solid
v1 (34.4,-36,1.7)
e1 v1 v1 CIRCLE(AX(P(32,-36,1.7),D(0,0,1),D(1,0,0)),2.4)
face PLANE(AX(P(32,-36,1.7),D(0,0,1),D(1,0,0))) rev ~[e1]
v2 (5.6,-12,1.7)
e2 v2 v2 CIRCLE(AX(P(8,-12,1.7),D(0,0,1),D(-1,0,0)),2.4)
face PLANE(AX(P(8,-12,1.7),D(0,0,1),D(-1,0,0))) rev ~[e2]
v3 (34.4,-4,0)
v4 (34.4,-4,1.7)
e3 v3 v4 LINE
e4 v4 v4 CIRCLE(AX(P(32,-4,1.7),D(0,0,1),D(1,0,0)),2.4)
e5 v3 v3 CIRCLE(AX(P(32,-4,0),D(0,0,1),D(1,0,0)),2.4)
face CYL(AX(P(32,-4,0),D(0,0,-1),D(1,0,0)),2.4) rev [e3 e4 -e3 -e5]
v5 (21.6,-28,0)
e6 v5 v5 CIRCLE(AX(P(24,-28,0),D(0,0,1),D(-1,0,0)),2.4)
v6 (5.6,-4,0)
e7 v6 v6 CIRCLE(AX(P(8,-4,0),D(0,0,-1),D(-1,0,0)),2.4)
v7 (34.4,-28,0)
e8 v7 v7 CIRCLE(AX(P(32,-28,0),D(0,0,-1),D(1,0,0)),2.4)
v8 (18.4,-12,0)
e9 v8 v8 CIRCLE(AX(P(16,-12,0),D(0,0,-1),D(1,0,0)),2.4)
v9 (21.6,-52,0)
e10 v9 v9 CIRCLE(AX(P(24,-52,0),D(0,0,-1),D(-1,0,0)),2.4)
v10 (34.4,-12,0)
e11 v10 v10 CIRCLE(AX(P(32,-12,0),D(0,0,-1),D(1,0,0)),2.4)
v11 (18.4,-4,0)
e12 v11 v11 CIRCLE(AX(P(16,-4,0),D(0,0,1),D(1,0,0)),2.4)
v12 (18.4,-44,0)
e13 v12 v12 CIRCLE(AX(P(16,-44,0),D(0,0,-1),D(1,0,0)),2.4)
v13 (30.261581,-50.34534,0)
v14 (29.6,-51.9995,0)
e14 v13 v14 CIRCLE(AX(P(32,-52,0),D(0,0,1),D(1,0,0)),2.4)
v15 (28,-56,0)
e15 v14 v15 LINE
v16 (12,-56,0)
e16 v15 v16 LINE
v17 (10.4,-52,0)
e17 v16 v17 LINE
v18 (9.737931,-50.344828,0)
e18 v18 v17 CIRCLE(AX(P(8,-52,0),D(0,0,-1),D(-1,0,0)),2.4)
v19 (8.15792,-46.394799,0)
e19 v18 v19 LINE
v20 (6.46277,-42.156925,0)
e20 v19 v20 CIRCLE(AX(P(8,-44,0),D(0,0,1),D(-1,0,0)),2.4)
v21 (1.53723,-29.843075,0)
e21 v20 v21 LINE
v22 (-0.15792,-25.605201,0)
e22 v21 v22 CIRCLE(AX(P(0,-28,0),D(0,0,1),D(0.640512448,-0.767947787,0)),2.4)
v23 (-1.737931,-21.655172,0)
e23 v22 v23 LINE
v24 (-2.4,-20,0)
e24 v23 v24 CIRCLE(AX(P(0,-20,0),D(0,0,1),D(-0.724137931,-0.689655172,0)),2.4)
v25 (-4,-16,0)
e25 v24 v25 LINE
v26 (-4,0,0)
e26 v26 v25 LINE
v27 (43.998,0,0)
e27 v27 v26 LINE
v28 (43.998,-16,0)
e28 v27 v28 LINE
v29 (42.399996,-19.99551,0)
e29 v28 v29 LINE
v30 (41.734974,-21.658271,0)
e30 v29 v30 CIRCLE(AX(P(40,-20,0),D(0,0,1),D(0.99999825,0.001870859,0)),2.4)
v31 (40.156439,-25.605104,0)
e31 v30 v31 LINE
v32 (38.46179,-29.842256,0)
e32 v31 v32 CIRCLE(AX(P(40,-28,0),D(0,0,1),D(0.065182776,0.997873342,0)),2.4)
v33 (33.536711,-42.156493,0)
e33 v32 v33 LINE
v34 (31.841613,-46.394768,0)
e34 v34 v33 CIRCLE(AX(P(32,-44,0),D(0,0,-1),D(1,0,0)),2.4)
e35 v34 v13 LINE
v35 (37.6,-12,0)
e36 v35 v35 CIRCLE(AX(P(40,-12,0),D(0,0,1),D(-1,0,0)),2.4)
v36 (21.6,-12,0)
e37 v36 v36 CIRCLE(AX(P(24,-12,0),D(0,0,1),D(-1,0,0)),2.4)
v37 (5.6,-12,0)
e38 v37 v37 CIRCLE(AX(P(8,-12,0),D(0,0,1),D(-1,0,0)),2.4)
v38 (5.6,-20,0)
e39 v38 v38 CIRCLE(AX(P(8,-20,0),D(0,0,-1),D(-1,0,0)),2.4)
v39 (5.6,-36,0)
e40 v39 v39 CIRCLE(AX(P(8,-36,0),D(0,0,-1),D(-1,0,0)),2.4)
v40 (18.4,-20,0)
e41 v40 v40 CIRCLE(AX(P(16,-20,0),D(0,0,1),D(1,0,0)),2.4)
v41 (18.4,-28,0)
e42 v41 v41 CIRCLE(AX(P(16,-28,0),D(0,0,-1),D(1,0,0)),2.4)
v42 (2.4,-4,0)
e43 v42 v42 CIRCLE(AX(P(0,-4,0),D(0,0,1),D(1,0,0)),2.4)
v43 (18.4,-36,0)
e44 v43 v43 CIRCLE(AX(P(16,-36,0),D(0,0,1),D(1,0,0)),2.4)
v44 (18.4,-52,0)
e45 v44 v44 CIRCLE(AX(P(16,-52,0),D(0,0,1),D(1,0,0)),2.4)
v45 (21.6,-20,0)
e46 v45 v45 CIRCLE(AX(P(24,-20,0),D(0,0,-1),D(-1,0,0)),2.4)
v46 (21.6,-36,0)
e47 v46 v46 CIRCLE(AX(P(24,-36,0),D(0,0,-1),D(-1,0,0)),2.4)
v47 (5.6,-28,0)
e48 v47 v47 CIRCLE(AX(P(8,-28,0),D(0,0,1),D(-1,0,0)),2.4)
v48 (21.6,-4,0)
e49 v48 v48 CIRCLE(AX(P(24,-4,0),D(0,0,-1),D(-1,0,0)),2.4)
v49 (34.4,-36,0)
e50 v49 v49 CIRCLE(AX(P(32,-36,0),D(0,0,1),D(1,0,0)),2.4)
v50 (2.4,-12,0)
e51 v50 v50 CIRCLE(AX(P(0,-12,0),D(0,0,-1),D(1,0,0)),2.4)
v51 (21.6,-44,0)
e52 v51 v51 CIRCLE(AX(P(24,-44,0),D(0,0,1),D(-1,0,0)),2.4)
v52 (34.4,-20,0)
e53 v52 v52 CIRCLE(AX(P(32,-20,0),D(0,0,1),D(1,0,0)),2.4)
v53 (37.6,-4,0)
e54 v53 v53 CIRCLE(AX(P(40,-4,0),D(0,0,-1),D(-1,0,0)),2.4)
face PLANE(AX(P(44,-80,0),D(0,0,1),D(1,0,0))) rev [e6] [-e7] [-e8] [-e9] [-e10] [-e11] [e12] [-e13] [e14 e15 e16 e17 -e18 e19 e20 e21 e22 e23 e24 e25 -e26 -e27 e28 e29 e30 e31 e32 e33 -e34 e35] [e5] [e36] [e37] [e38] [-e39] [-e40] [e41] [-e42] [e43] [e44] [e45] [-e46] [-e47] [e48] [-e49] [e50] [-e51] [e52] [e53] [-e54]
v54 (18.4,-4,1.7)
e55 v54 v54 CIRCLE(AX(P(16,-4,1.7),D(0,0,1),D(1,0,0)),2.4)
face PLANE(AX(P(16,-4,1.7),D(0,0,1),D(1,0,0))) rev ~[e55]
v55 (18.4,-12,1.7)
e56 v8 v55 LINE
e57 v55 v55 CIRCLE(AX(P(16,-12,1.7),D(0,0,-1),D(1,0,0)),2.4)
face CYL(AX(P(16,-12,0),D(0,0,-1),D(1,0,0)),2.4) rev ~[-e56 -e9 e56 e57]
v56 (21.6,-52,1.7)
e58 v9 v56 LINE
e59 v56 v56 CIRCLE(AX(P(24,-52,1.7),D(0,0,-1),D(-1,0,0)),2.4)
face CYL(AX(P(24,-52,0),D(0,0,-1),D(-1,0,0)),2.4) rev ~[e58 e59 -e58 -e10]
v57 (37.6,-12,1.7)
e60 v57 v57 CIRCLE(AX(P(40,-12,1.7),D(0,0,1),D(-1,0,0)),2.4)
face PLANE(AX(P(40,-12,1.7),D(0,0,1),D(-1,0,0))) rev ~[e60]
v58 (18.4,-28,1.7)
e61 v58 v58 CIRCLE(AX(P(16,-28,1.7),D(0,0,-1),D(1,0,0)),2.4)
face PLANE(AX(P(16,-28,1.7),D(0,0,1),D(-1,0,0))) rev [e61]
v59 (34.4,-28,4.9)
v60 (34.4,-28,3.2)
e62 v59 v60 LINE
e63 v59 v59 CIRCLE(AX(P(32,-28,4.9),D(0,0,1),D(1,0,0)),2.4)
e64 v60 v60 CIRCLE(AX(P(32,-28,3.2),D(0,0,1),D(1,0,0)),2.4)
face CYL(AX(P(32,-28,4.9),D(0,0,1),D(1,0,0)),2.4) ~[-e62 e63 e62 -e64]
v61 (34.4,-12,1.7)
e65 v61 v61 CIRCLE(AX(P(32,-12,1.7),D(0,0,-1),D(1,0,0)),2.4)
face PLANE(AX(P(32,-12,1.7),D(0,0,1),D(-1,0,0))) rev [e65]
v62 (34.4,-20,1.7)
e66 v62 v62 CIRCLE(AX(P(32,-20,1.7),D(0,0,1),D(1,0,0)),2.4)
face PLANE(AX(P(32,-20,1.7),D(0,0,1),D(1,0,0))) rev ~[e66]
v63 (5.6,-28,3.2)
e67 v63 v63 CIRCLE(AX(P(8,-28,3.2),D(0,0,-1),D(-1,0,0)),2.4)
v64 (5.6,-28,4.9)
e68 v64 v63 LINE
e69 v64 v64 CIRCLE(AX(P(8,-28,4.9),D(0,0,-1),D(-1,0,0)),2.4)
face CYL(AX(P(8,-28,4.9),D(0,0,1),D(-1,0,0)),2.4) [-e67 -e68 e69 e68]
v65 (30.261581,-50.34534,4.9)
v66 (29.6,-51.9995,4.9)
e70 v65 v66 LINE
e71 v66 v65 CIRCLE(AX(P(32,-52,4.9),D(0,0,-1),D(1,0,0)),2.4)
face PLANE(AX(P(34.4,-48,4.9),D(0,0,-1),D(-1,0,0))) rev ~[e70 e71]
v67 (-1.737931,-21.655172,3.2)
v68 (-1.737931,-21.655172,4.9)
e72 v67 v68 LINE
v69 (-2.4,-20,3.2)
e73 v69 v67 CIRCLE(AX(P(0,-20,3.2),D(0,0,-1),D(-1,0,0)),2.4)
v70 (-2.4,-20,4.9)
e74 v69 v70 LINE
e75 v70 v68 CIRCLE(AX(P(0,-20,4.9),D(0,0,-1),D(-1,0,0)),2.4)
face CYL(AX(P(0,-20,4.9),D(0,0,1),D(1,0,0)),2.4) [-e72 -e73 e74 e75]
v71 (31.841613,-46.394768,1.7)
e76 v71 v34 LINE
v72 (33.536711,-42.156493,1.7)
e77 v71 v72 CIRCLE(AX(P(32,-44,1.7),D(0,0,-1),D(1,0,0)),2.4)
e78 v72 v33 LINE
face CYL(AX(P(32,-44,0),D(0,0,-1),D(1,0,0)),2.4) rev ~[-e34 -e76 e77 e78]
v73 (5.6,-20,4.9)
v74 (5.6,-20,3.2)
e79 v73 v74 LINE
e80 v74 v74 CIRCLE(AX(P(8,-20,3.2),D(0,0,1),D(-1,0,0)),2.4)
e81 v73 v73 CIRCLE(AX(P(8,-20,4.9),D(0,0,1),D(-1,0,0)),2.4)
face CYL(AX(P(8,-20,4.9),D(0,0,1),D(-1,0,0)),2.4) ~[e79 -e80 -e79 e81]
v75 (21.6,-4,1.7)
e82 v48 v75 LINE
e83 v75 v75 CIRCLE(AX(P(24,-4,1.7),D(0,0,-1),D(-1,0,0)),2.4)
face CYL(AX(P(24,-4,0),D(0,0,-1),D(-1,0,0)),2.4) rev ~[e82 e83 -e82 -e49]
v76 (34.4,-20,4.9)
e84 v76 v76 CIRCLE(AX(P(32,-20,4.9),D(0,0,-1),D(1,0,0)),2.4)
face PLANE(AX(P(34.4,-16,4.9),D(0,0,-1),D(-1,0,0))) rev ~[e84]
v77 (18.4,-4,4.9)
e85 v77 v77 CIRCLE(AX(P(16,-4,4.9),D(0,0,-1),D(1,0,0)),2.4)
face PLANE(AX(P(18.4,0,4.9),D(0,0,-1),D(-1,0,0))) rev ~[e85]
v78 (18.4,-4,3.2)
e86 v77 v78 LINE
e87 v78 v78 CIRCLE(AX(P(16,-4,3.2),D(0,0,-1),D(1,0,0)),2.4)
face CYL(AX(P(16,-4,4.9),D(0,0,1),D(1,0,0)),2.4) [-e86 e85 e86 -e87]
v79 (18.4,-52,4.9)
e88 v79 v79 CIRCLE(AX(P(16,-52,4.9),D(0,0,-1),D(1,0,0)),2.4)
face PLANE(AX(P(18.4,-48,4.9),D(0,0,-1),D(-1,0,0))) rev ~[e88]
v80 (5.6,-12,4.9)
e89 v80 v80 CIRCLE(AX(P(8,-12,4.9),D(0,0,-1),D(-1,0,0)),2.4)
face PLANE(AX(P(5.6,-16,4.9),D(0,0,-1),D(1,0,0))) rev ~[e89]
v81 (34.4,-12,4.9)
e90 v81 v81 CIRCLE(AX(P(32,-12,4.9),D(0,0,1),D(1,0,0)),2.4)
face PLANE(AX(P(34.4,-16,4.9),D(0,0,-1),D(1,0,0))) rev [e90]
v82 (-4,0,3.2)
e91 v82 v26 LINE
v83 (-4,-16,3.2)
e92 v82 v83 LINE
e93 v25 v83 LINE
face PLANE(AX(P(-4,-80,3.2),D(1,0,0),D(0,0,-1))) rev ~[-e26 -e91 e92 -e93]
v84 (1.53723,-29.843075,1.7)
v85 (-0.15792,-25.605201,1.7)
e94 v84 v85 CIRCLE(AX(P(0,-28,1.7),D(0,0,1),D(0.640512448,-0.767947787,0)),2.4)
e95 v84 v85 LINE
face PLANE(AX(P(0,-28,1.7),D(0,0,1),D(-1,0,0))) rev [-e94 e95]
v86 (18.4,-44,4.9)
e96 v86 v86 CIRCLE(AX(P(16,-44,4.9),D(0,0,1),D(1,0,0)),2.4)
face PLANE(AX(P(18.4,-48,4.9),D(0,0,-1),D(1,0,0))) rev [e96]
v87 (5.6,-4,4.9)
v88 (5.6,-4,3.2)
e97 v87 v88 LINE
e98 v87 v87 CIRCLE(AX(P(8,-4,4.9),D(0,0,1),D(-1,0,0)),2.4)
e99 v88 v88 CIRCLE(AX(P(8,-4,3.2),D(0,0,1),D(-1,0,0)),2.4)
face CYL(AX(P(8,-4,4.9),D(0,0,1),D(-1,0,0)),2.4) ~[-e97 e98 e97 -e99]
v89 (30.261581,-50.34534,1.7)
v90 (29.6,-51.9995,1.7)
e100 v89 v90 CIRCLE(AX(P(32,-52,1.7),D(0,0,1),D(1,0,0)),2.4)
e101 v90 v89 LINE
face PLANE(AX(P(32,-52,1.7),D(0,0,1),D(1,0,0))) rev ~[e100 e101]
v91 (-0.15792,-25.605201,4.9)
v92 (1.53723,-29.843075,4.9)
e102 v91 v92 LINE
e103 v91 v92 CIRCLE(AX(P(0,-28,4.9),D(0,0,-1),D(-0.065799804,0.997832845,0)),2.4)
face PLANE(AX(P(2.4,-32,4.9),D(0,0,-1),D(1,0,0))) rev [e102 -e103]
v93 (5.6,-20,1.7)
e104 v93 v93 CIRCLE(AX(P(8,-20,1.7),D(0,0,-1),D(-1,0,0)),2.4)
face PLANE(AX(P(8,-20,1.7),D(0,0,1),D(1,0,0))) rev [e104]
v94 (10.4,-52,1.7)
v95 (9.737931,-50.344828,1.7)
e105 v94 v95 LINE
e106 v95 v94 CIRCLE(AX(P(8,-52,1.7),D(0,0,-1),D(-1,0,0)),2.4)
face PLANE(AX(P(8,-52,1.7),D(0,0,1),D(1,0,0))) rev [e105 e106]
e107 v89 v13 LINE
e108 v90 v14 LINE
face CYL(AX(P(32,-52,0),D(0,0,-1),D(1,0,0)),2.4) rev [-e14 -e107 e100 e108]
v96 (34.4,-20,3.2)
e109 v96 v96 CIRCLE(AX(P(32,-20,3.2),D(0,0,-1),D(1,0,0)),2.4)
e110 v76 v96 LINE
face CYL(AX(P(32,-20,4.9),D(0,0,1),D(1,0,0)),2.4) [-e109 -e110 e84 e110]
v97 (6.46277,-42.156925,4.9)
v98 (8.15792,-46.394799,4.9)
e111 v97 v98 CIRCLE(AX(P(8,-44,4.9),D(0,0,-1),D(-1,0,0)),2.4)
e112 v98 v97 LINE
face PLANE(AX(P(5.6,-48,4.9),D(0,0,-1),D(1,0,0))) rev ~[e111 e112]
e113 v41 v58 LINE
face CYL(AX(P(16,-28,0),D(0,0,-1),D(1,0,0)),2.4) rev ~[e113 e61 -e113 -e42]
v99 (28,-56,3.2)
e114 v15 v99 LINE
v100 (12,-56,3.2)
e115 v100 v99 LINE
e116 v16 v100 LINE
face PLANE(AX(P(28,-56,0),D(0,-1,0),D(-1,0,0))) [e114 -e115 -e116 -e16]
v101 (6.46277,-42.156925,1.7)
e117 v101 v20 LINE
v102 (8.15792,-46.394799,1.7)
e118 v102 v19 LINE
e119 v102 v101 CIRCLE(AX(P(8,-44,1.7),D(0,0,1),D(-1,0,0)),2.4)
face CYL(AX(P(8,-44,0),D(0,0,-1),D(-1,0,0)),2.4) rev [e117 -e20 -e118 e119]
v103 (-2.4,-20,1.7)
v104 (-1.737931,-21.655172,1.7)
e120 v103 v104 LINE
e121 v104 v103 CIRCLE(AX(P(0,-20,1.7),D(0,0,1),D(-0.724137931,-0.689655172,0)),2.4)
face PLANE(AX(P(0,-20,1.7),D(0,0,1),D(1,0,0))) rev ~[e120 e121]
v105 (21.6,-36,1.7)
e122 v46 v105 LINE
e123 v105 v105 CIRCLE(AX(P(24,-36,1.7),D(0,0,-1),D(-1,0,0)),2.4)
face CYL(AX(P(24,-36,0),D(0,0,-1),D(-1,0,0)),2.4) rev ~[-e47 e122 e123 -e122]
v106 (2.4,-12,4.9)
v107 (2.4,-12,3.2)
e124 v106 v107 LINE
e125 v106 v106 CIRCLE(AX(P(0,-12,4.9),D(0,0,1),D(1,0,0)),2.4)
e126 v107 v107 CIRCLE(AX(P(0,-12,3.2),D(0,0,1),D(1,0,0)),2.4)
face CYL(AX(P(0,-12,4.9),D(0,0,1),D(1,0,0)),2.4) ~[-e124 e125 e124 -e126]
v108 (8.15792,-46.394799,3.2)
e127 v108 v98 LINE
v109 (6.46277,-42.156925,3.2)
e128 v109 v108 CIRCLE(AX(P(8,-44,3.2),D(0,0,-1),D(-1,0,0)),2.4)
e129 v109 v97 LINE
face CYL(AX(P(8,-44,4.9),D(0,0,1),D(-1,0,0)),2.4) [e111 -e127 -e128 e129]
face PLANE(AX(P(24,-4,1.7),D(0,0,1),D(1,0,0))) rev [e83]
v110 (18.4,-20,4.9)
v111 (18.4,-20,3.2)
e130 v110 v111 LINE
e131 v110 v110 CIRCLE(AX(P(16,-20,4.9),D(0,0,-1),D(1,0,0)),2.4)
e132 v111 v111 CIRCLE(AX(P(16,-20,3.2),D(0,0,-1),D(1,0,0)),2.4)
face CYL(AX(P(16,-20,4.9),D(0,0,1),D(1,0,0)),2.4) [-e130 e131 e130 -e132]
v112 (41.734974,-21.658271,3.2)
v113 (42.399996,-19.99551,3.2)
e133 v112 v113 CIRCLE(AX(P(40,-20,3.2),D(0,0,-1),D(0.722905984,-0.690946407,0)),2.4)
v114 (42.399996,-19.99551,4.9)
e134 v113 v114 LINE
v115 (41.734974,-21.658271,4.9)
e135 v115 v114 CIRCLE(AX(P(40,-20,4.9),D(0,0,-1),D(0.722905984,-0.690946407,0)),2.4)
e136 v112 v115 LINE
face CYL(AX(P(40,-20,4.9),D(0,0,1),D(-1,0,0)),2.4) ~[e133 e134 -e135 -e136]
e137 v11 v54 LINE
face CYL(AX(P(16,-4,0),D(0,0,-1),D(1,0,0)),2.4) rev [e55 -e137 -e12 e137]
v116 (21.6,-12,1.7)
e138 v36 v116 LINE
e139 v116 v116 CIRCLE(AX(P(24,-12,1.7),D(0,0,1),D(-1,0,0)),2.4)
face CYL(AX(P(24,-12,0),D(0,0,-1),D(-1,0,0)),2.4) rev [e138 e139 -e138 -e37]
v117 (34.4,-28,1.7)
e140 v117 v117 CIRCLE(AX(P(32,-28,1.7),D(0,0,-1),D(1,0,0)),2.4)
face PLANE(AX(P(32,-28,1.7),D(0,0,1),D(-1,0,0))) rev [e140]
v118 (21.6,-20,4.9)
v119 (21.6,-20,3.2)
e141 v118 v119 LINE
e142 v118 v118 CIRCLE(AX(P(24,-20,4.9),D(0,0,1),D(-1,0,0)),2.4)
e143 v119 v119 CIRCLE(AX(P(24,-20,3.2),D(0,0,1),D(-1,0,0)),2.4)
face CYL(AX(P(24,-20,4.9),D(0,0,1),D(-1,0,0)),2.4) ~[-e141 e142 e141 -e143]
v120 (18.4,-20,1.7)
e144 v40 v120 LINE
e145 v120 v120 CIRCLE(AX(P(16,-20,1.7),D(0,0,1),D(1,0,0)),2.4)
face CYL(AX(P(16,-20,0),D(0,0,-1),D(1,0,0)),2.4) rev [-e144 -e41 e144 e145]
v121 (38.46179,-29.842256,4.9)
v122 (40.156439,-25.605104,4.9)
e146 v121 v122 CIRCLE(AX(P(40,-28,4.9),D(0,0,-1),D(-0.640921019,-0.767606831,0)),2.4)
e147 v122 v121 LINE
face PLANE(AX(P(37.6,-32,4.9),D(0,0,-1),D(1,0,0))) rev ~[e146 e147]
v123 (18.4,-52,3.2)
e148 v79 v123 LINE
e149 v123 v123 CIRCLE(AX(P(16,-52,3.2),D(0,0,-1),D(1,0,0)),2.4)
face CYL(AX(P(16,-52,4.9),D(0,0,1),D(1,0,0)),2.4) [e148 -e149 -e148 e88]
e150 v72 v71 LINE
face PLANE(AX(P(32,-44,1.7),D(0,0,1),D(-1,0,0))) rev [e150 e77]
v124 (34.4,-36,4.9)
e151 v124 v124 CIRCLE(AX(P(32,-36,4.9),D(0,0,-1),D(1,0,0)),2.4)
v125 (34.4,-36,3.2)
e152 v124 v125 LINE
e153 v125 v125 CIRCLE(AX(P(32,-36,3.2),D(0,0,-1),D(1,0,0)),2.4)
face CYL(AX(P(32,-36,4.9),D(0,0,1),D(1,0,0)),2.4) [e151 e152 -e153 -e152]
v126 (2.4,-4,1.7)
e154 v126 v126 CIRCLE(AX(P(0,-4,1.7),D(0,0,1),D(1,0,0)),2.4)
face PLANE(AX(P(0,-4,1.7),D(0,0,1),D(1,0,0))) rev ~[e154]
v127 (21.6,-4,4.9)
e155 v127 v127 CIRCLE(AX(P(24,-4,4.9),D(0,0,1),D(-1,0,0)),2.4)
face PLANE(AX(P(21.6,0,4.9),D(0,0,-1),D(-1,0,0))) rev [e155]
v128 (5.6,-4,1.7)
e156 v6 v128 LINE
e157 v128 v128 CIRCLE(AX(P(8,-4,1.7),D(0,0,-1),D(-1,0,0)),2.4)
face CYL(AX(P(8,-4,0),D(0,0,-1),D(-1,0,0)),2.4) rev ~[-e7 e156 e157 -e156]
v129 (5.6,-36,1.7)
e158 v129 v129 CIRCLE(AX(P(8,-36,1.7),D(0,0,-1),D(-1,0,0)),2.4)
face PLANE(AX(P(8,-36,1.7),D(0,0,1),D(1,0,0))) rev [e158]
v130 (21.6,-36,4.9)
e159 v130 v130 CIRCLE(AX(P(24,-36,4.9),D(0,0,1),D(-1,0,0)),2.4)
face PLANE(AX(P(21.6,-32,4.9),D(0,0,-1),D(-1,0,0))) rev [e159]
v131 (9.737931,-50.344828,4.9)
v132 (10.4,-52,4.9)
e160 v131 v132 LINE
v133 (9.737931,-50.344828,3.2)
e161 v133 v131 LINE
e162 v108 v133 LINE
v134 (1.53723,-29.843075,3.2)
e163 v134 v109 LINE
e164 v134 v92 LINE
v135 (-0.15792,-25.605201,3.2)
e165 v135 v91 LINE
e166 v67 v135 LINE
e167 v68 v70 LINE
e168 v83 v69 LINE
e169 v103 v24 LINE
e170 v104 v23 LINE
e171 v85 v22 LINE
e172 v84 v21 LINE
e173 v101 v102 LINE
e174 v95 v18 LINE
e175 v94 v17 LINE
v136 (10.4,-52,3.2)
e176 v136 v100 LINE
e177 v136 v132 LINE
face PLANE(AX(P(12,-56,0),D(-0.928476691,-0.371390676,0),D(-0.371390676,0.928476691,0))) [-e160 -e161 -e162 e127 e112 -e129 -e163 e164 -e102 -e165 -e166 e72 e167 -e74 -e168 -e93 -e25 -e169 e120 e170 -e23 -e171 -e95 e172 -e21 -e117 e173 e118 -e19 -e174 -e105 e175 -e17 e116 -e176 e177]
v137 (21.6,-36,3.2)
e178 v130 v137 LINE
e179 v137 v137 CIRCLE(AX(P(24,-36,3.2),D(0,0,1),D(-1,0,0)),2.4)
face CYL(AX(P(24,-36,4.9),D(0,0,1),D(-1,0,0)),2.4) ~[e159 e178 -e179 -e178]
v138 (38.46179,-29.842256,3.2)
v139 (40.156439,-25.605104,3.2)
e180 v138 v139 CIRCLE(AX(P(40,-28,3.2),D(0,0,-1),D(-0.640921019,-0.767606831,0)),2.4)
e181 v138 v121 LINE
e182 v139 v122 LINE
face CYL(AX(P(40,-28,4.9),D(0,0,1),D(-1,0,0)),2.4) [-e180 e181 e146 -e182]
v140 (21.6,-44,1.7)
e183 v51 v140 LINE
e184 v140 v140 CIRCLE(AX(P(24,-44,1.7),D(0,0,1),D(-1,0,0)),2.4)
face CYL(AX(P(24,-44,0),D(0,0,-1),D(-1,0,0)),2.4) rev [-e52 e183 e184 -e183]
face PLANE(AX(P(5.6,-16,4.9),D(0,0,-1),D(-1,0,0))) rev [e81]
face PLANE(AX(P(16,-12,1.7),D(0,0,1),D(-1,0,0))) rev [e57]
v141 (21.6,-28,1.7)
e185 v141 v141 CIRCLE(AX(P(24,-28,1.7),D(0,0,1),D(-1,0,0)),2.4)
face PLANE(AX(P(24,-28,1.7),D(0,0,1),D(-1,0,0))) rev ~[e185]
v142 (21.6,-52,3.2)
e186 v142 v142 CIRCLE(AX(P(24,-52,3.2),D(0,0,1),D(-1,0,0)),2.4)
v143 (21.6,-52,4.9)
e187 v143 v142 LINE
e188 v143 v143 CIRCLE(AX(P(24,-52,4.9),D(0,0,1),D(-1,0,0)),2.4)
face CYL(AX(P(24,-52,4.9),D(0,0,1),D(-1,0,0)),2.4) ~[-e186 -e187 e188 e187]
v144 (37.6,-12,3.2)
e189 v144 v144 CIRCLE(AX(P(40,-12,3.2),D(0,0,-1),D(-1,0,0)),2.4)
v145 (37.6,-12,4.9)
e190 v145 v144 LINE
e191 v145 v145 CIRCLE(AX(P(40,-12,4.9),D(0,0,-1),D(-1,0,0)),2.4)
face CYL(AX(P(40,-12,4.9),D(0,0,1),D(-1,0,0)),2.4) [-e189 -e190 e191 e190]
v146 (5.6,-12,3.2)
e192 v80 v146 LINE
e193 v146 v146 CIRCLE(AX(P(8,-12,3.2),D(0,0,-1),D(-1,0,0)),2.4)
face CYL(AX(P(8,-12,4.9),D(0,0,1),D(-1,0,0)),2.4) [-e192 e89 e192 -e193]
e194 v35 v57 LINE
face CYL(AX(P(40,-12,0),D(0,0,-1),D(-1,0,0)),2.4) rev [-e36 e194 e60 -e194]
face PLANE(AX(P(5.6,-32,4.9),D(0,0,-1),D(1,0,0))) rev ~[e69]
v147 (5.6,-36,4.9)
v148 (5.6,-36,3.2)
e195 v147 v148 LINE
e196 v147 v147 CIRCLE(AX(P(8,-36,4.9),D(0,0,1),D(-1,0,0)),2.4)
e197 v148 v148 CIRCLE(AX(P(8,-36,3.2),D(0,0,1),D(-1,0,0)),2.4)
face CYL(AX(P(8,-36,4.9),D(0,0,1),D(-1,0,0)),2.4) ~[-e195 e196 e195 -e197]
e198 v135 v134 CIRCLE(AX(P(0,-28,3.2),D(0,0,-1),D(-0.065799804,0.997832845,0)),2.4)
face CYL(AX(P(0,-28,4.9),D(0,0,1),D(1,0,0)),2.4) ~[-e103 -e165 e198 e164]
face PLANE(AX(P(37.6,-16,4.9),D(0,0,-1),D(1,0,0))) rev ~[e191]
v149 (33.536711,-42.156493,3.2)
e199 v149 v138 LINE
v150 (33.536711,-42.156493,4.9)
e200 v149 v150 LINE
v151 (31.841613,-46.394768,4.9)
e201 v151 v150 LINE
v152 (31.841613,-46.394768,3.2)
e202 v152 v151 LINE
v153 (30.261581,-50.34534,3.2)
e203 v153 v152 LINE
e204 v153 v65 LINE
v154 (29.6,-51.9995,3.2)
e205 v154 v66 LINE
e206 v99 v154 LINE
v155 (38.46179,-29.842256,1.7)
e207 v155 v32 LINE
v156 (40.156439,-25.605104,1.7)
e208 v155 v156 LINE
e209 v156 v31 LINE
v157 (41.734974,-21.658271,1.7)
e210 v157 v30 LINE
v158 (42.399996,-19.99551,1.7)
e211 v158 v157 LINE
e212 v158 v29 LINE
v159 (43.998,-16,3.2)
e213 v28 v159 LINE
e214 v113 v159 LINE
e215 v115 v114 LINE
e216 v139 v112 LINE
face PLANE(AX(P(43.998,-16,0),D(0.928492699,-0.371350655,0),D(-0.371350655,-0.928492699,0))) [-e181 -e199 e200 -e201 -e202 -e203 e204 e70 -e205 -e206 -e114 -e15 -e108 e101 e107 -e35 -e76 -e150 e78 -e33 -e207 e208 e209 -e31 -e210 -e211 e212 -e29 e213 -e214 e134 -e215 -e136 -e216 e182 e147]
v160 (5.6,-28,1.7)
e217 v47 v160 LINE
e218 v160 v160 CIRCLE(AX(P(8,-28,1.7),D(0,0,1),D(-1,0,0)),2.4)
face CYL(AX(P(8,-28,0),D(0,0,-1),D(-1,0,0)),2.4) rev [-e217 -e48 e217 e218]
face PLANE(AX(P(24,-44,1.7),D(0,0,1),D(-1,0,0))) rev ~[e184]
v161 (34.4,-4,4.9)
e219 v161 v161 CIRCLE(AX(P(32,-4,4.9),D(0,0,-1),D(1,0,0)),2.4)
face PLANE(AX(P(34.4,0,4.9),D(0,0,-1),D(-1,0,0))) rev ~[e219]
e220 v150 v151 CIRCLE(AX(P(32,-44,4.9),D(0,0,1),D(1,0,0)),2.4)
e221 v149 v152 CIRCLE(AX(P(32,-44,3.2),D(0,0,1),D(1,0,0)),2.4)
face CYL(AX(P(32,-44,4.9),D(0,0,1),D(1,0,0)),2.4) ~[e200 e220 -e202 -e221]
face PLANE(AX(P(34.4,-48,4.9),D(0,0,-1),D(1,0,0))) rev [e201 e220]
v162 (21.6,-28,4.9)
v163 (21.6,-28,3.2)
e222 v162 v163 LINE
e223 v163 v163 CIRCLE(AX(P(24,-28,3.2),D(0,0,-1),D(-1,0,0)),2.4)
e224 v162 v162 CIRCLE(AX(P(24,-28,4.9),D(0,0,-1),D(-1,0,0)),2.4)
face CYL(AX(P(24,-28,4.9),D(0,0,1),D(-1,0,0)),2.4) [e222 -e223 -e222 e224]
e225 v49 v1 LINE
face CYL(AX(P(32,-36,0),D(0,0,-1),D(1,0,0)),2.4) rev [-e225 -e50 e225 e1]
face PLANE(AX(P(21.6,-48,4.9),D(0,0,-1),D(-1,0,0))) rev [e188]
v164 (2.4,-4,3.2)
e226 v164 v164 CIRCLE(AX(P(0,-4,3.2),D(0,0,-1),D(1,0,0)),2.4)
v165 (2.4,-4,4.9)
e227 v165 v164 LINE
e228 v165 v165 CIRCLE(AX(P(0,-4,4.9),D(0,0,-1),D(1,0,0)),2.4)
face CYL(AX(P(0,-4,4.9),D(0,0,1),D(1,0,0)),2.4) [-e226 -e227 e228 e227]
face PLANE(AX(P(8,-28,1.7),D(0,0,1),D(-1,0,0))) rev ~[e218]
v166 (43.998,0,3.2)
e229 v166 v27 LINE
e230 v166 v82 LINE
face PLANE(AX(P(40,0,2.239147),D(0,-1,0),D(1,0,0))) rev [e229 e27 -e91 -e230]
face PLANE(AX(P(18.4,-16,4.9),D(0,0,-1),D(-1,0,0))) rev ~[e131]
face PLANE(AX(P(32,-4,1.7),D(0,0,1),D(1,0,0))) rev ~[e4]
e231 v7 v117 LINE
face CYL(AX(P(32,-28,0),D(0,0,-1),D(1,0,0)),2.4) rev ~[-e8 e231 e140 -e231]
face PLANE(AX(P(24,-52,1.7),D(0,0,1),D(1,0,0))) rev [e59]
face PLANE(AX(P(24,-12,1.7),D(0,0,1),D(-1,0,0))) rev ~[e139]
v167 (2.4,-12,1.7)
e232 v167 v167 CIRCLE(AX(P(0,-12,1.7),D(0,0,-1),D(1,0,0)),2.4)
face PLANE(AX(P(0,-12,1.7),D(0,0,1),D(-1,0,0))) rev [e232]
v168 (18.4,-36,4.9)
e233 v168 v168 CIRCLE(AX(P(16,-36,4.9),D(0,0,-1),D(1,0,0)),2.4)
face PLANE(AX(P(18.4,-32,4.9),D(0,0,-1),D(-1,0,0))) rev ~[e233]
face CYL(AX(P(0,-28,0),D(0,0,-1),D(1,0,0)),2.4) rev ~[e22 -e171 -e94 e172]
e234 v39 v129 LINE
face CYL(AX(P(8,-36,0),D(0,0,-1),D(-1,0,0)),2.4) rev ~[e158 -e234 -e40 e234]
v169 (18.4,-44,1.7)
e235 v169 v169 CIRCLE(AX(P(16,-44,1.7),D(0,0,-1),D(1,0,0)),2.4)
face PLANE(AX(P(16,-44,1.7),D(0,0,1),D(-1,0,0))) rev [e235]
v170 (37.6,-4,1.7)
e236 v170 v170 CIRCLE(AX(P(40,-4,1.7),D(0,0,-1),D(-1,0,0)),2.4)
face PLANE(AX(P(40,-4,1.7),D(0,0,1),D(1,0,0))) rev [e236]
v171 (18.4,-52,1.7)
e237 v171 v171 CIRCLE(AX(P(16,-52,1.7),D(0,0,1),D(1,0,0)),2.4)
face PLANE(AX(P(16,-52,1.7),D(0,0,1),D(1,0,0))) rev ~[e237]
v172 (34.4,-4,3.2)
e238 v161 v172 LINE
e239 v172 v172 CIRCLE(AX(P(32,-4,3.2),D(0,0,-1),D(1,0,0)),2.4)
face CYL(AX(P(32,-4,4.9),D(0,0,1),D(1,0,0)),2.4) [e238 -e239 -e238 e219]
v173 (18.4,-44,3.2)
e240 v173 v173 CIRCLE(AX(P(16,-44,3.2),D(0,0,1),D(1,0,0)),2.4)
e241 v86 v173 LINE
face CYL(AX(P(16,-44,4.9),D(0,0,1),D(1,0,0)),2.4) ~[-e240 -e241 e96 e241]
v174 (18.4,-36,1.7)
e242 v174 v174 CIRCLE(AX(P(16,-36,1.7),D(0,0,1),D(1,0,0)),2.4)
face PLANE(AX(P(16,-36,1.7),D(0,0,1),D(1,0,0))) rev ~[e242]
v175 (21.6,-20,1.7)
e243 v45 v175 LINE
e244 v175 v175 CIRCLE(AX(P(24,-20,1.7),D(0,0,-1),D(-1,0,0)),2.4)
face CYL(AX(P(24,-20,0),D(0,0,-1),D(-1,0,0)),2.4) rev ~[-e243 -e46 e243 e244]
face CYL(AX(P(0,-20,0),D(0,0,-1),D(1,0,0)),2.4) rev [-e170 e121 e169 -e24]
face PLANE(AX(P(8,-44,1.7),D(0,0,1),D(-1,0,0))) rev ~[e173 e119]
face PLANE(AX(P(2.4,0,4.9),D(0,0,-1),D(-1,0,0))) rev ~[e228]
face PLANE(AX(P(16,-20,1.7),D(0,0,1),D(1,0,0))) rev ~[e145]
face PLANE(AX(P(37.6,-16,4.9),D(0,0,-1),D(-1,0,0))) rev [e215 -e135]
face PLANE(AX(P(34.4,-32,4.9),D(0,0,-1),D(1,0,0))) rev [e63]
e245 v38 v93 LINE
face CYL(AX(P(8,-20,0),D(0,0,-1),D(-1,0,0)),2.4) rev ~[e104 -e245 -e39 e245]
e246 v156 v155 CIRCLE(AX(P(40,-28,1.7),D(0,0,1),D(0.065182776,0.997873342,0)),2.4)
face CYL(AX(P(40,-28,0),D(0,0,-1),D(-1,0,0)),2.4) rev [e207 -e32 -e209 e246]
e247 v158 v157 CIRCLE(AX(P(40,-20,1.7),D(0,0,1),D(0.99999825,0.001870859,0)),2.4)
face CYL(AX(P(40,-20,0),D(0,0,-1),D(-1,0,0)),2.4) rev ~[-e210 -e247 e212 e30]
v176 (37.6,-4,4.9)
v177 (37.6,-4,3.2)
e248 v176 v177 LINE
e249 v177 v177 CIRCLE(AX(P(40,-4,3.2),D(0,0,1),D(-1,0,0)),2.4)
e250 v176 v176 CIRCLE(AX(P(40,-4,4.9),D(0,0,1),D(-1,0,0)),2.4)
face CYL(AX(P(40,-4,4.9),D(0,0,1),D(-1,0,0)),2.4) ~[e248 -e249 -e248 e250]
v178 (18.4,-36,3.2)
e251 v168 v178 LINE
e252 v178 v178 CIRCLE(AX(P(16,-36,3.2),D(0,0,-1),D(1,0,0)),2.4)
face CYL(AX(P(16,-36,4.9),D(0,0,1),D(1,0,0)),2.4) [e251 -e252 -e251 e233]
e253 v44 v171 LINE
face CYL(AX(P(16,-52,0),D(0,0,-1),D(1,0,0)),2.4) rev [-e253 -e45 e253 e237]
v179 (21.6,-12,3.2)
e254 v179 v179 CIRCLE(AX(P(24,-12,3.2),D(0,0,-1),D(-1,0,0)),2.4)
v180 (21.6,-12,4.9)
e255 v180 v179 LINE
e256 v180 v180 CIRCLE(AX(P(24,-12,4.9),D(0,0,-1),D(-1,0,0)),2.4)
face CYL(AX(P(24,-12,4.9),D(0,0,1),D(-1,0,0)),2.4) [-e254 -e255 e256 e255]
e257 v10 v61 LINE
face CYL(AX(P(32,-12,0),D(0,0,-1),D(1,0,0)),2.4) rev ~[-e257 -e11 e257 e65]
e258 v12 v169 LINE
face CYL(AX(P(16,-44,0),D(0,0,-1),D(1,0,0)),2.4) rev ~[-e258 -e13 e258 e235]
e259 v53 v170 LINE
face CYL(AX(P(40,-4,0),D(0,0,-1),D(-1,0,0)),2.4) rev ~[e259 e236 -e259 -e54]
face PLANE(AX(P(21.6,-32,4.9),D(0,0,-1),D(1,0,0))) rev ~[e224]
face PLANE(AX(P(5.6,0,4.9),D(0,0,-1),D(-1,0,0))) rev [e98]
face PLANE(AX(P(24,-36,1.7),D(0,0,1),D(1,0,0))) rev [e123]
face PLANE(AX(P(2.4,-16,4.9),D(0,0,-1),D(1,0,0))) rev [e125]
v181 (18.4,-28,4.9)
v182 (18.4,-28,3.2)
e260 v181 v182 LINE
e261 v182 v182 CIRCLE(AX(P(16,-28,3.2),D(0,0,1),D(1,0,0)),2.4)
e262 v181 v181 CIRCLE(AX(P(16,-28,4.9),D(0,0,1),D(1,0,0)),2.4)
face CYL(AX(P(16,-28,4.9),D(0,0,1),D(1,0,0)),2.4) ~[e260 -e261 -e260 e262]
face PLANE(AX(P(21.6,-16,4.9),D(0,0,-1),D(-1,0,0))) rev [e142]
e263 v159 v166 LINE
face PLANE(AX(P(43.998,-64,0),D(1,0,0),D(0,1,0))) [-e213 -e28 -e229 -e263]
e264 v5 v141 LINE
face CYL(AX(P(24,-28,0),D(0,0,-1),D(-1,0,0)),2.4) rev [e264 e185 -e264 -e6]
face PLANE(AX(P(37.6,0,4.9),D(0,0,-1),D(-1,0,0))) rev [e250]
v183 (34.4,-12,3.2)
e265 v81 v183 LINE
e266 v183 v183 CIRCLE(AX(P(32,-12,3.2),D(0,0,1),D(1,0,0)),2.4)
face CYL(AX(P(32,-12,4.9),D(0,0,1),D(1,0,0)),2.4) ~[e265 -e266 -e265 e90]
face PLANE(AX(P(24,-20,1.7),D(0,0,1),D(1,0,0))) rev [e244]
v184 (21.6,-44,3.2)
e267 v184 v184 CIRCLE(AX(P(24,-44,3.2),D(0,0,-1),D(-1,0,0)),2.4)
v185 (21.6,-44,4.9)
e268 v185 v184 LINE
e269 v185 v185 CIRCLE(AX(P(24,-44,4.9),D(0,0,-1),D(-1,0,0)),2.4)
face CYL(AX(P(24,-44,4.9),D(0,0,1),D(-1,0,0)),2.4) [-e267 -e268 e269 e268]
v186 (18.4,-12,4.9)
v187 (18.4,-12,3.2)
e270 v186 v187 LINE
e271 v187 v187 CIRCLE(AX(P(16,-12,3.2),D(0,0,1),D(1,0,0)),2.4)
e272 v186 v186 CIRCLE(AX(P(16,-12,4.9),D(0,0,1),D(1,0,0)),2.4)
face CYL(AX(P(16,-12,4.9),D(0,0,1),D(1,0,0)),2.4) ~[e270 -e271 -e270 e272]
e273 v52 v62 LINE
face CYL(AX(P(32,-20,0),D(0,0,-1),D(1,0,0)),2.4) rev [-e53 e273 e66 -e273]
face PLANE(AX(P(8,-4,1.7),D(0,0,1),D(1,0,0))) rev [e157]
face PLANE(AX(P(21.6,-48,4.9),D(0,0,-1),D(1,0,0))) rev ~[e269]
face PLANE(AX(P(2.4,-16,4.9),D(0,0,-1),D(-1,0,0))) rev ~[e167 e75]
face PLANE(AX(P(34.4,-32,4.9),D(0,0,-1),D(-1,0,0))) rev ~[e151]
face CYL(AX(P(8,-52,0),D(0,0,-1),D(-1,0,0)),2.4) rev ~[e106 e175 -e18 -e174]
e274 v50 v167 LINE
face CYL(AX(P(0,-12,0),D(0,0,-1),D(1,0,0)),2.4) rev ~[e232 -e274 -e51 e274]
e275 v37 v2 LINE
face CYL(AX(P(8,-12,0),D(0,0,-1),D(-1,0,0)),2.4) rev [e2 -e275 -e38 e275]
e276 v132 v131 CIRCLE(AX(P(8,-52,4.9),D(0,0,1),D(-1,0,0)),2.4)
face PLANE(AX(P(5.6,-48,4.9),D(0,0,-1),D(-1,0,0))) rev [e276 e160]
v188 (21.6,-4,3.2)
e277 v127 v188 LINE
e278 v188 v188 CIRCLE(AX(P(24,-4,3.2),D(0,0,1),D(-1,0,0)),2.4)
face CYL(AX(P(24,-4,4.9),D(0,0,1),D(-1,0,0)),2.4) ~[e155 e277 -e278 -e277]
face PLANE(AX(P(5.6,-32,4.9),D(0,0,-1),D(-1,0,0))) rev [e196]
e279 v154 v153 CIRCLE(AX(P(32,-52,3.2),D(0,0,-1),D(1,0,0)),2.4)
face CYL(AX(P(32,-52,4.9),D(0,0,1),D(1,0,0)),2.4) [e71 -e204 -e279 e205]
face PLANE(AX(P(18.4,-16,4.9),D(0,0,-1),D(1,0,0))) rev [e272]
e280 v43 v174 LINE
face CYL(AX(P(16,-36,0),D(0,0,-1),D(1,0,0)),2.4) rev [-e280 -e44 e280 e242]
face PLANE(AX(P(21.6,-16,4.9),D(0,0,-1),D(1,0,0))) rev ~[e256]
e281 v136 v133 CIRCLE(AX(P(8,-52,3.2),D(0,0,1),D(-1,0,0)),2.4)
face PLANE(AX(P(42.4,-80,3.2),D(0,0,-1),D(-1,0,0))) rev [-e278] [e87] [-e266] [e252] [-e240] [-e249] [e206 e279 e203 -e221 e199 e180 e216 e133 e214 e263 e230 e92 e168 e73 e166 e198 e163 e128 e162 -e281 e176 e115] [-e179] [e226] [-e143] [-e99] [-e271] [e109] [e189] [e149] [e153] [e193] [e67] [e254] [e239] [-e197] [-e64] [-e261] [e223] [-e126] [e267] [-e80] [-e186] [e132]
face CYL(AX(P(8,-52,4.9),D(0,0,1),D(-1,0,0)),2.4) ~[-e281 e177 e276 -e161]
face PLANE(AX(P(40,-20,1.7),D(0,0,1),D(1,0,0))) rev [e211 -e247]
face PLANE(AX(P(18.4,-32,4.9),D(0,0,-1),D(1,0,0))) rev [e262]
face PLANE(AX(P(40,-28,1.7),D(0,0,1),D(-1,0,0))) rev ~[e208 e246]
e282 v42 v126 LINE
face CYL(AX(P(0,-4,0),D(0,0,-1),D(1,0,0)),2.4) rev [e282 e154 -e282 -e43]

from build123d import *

# Parameters (mm, degrees)
F1_DEPTH  = 8
F3_W      = 8
F3_H      = 8
F3_R      = 2.4
F4_DEPTH  = 1.7
F5_R      = 2.4
F6_DEPTH  = 1.7
F17_W     = 169.7410433292
F17_H     = 17.4022987485
F18_DEPTH = 16.002
F19_W     = 57.4434348602
F19_H     = 35.758164084
F20_DEPTH = 48.006
F22_DEPTH = 25.4


with BuildPart() as f1:
    # F0 (on Front) → F1 (new body)
    with BuildSketch(Plane.XZ):
        Polygon((-2.4, 3.2), (-4, 3.2), (-4, 0), (4, 0), (4, 3.2), (2.4, 3.2), (2.4, 4.9), (-2.4, 4.9), align=None)
    extrude(amount=F1_DEPTH)

    # F3 (on plane+point) → F4 (cut, through all)
    with BuildSketch(Plane.XY.offset(4.9)):
        with Locations((0, -4)):
            Rectangle(F3_W, F3_H)
        with Locations((0, -4)):
            Circle(F3_R, mode=Mode.SUBTRACT)
    extrude(amount=-F4_DEPTH, mode=Mode.SUBTRACT)

    # F5 (on Top) → F6 (cut)
    with BuildSketch(Plane.XY):
        with Locations((0, -4)):
            Circle(F5_R)
    extrude(amount=F6_DEPTH, mode=Mode.SUBTRACT)

    # F8: F1 across plane


with BuildPart() as f1_1:
    add(f1.part)
    add(f1.part.mirror(Plane.YZ.offset(4)))

    # F10: F1 across plane


with BuildPart() as f1_2:
    add(f1_1.part)
    add(f1_1.part.mirror(Plane.YZ.offset(12)))

    # F12: F1 across plane


with BuildPart() as f1_3:
    add(f1_2.part)
    add(f1_2.part.mirror(Plane.YZ.offset(28)))

    # F13: F1 across face


with BuildPart() as f1_4:
    add(f1_3.part)
    add(f1_3.part.mirror(Plane(origin=(28, -8, 1.6), x_dir=(1, 0, 0), z_dir=(0, -1, 0))))

    # F14: F1 across face


with BuildPart() as f1_5:
    add(f1_4.part)
    add(f1_4.part.mirror(Plane(origin=(28, -16, 1.6), x_dir=(1, 0, 0), z_dir=(0, -1, 0))))

    # F15: F1 across face


with BuildPart() as f1_6:
    add(f1_5.part)
    add(f1_5.part.mirror(Plane(origin=(28, -32, 1.6), x_dir=(1, 0, 0), z_dir=(0, -1, 0))))

    # F16: F1 across face


with BuildPart() as f1_7:
    add(f1_6.part)
    add(f1_6.part.mirror(Plane(origin=(28, -64, 1.6), x_dir=(1, 0, 0), z_dir=(0, -1, 0))))

    # F17 (on face) → F18 (cut)
    with BuildSketch(Plane.YZ.offset(60)):
        with Locations((-64, 0)):
            Rectangle(F17_W, F17_H)
    extrude(amount=-F18_DEPTH, mode=Mode.SUBTRACT)

    # F19 (on face) → F20 (cut)
    with BuildSketch(Plane.XZ.offset(128)):
        with Locations((19.999, 3.2)):
            Rectangle(F19_W, F19_H)
    extrude(amount=-F20_DEPTH, mode=Mode.SUBTRACT)

    # F21 (on Top) → F22 (cut)
    with BuildSketch(Plane.XY):
        Polygon((-4, -16), (-4, -79.994), (43.998, -79.994), (43.998, -16), (28, -56), (12, -56), align=None)
    extrude(amount=F22_DEPTH, mode=Mode.SUBTRACT)


solid = f1_7.part
